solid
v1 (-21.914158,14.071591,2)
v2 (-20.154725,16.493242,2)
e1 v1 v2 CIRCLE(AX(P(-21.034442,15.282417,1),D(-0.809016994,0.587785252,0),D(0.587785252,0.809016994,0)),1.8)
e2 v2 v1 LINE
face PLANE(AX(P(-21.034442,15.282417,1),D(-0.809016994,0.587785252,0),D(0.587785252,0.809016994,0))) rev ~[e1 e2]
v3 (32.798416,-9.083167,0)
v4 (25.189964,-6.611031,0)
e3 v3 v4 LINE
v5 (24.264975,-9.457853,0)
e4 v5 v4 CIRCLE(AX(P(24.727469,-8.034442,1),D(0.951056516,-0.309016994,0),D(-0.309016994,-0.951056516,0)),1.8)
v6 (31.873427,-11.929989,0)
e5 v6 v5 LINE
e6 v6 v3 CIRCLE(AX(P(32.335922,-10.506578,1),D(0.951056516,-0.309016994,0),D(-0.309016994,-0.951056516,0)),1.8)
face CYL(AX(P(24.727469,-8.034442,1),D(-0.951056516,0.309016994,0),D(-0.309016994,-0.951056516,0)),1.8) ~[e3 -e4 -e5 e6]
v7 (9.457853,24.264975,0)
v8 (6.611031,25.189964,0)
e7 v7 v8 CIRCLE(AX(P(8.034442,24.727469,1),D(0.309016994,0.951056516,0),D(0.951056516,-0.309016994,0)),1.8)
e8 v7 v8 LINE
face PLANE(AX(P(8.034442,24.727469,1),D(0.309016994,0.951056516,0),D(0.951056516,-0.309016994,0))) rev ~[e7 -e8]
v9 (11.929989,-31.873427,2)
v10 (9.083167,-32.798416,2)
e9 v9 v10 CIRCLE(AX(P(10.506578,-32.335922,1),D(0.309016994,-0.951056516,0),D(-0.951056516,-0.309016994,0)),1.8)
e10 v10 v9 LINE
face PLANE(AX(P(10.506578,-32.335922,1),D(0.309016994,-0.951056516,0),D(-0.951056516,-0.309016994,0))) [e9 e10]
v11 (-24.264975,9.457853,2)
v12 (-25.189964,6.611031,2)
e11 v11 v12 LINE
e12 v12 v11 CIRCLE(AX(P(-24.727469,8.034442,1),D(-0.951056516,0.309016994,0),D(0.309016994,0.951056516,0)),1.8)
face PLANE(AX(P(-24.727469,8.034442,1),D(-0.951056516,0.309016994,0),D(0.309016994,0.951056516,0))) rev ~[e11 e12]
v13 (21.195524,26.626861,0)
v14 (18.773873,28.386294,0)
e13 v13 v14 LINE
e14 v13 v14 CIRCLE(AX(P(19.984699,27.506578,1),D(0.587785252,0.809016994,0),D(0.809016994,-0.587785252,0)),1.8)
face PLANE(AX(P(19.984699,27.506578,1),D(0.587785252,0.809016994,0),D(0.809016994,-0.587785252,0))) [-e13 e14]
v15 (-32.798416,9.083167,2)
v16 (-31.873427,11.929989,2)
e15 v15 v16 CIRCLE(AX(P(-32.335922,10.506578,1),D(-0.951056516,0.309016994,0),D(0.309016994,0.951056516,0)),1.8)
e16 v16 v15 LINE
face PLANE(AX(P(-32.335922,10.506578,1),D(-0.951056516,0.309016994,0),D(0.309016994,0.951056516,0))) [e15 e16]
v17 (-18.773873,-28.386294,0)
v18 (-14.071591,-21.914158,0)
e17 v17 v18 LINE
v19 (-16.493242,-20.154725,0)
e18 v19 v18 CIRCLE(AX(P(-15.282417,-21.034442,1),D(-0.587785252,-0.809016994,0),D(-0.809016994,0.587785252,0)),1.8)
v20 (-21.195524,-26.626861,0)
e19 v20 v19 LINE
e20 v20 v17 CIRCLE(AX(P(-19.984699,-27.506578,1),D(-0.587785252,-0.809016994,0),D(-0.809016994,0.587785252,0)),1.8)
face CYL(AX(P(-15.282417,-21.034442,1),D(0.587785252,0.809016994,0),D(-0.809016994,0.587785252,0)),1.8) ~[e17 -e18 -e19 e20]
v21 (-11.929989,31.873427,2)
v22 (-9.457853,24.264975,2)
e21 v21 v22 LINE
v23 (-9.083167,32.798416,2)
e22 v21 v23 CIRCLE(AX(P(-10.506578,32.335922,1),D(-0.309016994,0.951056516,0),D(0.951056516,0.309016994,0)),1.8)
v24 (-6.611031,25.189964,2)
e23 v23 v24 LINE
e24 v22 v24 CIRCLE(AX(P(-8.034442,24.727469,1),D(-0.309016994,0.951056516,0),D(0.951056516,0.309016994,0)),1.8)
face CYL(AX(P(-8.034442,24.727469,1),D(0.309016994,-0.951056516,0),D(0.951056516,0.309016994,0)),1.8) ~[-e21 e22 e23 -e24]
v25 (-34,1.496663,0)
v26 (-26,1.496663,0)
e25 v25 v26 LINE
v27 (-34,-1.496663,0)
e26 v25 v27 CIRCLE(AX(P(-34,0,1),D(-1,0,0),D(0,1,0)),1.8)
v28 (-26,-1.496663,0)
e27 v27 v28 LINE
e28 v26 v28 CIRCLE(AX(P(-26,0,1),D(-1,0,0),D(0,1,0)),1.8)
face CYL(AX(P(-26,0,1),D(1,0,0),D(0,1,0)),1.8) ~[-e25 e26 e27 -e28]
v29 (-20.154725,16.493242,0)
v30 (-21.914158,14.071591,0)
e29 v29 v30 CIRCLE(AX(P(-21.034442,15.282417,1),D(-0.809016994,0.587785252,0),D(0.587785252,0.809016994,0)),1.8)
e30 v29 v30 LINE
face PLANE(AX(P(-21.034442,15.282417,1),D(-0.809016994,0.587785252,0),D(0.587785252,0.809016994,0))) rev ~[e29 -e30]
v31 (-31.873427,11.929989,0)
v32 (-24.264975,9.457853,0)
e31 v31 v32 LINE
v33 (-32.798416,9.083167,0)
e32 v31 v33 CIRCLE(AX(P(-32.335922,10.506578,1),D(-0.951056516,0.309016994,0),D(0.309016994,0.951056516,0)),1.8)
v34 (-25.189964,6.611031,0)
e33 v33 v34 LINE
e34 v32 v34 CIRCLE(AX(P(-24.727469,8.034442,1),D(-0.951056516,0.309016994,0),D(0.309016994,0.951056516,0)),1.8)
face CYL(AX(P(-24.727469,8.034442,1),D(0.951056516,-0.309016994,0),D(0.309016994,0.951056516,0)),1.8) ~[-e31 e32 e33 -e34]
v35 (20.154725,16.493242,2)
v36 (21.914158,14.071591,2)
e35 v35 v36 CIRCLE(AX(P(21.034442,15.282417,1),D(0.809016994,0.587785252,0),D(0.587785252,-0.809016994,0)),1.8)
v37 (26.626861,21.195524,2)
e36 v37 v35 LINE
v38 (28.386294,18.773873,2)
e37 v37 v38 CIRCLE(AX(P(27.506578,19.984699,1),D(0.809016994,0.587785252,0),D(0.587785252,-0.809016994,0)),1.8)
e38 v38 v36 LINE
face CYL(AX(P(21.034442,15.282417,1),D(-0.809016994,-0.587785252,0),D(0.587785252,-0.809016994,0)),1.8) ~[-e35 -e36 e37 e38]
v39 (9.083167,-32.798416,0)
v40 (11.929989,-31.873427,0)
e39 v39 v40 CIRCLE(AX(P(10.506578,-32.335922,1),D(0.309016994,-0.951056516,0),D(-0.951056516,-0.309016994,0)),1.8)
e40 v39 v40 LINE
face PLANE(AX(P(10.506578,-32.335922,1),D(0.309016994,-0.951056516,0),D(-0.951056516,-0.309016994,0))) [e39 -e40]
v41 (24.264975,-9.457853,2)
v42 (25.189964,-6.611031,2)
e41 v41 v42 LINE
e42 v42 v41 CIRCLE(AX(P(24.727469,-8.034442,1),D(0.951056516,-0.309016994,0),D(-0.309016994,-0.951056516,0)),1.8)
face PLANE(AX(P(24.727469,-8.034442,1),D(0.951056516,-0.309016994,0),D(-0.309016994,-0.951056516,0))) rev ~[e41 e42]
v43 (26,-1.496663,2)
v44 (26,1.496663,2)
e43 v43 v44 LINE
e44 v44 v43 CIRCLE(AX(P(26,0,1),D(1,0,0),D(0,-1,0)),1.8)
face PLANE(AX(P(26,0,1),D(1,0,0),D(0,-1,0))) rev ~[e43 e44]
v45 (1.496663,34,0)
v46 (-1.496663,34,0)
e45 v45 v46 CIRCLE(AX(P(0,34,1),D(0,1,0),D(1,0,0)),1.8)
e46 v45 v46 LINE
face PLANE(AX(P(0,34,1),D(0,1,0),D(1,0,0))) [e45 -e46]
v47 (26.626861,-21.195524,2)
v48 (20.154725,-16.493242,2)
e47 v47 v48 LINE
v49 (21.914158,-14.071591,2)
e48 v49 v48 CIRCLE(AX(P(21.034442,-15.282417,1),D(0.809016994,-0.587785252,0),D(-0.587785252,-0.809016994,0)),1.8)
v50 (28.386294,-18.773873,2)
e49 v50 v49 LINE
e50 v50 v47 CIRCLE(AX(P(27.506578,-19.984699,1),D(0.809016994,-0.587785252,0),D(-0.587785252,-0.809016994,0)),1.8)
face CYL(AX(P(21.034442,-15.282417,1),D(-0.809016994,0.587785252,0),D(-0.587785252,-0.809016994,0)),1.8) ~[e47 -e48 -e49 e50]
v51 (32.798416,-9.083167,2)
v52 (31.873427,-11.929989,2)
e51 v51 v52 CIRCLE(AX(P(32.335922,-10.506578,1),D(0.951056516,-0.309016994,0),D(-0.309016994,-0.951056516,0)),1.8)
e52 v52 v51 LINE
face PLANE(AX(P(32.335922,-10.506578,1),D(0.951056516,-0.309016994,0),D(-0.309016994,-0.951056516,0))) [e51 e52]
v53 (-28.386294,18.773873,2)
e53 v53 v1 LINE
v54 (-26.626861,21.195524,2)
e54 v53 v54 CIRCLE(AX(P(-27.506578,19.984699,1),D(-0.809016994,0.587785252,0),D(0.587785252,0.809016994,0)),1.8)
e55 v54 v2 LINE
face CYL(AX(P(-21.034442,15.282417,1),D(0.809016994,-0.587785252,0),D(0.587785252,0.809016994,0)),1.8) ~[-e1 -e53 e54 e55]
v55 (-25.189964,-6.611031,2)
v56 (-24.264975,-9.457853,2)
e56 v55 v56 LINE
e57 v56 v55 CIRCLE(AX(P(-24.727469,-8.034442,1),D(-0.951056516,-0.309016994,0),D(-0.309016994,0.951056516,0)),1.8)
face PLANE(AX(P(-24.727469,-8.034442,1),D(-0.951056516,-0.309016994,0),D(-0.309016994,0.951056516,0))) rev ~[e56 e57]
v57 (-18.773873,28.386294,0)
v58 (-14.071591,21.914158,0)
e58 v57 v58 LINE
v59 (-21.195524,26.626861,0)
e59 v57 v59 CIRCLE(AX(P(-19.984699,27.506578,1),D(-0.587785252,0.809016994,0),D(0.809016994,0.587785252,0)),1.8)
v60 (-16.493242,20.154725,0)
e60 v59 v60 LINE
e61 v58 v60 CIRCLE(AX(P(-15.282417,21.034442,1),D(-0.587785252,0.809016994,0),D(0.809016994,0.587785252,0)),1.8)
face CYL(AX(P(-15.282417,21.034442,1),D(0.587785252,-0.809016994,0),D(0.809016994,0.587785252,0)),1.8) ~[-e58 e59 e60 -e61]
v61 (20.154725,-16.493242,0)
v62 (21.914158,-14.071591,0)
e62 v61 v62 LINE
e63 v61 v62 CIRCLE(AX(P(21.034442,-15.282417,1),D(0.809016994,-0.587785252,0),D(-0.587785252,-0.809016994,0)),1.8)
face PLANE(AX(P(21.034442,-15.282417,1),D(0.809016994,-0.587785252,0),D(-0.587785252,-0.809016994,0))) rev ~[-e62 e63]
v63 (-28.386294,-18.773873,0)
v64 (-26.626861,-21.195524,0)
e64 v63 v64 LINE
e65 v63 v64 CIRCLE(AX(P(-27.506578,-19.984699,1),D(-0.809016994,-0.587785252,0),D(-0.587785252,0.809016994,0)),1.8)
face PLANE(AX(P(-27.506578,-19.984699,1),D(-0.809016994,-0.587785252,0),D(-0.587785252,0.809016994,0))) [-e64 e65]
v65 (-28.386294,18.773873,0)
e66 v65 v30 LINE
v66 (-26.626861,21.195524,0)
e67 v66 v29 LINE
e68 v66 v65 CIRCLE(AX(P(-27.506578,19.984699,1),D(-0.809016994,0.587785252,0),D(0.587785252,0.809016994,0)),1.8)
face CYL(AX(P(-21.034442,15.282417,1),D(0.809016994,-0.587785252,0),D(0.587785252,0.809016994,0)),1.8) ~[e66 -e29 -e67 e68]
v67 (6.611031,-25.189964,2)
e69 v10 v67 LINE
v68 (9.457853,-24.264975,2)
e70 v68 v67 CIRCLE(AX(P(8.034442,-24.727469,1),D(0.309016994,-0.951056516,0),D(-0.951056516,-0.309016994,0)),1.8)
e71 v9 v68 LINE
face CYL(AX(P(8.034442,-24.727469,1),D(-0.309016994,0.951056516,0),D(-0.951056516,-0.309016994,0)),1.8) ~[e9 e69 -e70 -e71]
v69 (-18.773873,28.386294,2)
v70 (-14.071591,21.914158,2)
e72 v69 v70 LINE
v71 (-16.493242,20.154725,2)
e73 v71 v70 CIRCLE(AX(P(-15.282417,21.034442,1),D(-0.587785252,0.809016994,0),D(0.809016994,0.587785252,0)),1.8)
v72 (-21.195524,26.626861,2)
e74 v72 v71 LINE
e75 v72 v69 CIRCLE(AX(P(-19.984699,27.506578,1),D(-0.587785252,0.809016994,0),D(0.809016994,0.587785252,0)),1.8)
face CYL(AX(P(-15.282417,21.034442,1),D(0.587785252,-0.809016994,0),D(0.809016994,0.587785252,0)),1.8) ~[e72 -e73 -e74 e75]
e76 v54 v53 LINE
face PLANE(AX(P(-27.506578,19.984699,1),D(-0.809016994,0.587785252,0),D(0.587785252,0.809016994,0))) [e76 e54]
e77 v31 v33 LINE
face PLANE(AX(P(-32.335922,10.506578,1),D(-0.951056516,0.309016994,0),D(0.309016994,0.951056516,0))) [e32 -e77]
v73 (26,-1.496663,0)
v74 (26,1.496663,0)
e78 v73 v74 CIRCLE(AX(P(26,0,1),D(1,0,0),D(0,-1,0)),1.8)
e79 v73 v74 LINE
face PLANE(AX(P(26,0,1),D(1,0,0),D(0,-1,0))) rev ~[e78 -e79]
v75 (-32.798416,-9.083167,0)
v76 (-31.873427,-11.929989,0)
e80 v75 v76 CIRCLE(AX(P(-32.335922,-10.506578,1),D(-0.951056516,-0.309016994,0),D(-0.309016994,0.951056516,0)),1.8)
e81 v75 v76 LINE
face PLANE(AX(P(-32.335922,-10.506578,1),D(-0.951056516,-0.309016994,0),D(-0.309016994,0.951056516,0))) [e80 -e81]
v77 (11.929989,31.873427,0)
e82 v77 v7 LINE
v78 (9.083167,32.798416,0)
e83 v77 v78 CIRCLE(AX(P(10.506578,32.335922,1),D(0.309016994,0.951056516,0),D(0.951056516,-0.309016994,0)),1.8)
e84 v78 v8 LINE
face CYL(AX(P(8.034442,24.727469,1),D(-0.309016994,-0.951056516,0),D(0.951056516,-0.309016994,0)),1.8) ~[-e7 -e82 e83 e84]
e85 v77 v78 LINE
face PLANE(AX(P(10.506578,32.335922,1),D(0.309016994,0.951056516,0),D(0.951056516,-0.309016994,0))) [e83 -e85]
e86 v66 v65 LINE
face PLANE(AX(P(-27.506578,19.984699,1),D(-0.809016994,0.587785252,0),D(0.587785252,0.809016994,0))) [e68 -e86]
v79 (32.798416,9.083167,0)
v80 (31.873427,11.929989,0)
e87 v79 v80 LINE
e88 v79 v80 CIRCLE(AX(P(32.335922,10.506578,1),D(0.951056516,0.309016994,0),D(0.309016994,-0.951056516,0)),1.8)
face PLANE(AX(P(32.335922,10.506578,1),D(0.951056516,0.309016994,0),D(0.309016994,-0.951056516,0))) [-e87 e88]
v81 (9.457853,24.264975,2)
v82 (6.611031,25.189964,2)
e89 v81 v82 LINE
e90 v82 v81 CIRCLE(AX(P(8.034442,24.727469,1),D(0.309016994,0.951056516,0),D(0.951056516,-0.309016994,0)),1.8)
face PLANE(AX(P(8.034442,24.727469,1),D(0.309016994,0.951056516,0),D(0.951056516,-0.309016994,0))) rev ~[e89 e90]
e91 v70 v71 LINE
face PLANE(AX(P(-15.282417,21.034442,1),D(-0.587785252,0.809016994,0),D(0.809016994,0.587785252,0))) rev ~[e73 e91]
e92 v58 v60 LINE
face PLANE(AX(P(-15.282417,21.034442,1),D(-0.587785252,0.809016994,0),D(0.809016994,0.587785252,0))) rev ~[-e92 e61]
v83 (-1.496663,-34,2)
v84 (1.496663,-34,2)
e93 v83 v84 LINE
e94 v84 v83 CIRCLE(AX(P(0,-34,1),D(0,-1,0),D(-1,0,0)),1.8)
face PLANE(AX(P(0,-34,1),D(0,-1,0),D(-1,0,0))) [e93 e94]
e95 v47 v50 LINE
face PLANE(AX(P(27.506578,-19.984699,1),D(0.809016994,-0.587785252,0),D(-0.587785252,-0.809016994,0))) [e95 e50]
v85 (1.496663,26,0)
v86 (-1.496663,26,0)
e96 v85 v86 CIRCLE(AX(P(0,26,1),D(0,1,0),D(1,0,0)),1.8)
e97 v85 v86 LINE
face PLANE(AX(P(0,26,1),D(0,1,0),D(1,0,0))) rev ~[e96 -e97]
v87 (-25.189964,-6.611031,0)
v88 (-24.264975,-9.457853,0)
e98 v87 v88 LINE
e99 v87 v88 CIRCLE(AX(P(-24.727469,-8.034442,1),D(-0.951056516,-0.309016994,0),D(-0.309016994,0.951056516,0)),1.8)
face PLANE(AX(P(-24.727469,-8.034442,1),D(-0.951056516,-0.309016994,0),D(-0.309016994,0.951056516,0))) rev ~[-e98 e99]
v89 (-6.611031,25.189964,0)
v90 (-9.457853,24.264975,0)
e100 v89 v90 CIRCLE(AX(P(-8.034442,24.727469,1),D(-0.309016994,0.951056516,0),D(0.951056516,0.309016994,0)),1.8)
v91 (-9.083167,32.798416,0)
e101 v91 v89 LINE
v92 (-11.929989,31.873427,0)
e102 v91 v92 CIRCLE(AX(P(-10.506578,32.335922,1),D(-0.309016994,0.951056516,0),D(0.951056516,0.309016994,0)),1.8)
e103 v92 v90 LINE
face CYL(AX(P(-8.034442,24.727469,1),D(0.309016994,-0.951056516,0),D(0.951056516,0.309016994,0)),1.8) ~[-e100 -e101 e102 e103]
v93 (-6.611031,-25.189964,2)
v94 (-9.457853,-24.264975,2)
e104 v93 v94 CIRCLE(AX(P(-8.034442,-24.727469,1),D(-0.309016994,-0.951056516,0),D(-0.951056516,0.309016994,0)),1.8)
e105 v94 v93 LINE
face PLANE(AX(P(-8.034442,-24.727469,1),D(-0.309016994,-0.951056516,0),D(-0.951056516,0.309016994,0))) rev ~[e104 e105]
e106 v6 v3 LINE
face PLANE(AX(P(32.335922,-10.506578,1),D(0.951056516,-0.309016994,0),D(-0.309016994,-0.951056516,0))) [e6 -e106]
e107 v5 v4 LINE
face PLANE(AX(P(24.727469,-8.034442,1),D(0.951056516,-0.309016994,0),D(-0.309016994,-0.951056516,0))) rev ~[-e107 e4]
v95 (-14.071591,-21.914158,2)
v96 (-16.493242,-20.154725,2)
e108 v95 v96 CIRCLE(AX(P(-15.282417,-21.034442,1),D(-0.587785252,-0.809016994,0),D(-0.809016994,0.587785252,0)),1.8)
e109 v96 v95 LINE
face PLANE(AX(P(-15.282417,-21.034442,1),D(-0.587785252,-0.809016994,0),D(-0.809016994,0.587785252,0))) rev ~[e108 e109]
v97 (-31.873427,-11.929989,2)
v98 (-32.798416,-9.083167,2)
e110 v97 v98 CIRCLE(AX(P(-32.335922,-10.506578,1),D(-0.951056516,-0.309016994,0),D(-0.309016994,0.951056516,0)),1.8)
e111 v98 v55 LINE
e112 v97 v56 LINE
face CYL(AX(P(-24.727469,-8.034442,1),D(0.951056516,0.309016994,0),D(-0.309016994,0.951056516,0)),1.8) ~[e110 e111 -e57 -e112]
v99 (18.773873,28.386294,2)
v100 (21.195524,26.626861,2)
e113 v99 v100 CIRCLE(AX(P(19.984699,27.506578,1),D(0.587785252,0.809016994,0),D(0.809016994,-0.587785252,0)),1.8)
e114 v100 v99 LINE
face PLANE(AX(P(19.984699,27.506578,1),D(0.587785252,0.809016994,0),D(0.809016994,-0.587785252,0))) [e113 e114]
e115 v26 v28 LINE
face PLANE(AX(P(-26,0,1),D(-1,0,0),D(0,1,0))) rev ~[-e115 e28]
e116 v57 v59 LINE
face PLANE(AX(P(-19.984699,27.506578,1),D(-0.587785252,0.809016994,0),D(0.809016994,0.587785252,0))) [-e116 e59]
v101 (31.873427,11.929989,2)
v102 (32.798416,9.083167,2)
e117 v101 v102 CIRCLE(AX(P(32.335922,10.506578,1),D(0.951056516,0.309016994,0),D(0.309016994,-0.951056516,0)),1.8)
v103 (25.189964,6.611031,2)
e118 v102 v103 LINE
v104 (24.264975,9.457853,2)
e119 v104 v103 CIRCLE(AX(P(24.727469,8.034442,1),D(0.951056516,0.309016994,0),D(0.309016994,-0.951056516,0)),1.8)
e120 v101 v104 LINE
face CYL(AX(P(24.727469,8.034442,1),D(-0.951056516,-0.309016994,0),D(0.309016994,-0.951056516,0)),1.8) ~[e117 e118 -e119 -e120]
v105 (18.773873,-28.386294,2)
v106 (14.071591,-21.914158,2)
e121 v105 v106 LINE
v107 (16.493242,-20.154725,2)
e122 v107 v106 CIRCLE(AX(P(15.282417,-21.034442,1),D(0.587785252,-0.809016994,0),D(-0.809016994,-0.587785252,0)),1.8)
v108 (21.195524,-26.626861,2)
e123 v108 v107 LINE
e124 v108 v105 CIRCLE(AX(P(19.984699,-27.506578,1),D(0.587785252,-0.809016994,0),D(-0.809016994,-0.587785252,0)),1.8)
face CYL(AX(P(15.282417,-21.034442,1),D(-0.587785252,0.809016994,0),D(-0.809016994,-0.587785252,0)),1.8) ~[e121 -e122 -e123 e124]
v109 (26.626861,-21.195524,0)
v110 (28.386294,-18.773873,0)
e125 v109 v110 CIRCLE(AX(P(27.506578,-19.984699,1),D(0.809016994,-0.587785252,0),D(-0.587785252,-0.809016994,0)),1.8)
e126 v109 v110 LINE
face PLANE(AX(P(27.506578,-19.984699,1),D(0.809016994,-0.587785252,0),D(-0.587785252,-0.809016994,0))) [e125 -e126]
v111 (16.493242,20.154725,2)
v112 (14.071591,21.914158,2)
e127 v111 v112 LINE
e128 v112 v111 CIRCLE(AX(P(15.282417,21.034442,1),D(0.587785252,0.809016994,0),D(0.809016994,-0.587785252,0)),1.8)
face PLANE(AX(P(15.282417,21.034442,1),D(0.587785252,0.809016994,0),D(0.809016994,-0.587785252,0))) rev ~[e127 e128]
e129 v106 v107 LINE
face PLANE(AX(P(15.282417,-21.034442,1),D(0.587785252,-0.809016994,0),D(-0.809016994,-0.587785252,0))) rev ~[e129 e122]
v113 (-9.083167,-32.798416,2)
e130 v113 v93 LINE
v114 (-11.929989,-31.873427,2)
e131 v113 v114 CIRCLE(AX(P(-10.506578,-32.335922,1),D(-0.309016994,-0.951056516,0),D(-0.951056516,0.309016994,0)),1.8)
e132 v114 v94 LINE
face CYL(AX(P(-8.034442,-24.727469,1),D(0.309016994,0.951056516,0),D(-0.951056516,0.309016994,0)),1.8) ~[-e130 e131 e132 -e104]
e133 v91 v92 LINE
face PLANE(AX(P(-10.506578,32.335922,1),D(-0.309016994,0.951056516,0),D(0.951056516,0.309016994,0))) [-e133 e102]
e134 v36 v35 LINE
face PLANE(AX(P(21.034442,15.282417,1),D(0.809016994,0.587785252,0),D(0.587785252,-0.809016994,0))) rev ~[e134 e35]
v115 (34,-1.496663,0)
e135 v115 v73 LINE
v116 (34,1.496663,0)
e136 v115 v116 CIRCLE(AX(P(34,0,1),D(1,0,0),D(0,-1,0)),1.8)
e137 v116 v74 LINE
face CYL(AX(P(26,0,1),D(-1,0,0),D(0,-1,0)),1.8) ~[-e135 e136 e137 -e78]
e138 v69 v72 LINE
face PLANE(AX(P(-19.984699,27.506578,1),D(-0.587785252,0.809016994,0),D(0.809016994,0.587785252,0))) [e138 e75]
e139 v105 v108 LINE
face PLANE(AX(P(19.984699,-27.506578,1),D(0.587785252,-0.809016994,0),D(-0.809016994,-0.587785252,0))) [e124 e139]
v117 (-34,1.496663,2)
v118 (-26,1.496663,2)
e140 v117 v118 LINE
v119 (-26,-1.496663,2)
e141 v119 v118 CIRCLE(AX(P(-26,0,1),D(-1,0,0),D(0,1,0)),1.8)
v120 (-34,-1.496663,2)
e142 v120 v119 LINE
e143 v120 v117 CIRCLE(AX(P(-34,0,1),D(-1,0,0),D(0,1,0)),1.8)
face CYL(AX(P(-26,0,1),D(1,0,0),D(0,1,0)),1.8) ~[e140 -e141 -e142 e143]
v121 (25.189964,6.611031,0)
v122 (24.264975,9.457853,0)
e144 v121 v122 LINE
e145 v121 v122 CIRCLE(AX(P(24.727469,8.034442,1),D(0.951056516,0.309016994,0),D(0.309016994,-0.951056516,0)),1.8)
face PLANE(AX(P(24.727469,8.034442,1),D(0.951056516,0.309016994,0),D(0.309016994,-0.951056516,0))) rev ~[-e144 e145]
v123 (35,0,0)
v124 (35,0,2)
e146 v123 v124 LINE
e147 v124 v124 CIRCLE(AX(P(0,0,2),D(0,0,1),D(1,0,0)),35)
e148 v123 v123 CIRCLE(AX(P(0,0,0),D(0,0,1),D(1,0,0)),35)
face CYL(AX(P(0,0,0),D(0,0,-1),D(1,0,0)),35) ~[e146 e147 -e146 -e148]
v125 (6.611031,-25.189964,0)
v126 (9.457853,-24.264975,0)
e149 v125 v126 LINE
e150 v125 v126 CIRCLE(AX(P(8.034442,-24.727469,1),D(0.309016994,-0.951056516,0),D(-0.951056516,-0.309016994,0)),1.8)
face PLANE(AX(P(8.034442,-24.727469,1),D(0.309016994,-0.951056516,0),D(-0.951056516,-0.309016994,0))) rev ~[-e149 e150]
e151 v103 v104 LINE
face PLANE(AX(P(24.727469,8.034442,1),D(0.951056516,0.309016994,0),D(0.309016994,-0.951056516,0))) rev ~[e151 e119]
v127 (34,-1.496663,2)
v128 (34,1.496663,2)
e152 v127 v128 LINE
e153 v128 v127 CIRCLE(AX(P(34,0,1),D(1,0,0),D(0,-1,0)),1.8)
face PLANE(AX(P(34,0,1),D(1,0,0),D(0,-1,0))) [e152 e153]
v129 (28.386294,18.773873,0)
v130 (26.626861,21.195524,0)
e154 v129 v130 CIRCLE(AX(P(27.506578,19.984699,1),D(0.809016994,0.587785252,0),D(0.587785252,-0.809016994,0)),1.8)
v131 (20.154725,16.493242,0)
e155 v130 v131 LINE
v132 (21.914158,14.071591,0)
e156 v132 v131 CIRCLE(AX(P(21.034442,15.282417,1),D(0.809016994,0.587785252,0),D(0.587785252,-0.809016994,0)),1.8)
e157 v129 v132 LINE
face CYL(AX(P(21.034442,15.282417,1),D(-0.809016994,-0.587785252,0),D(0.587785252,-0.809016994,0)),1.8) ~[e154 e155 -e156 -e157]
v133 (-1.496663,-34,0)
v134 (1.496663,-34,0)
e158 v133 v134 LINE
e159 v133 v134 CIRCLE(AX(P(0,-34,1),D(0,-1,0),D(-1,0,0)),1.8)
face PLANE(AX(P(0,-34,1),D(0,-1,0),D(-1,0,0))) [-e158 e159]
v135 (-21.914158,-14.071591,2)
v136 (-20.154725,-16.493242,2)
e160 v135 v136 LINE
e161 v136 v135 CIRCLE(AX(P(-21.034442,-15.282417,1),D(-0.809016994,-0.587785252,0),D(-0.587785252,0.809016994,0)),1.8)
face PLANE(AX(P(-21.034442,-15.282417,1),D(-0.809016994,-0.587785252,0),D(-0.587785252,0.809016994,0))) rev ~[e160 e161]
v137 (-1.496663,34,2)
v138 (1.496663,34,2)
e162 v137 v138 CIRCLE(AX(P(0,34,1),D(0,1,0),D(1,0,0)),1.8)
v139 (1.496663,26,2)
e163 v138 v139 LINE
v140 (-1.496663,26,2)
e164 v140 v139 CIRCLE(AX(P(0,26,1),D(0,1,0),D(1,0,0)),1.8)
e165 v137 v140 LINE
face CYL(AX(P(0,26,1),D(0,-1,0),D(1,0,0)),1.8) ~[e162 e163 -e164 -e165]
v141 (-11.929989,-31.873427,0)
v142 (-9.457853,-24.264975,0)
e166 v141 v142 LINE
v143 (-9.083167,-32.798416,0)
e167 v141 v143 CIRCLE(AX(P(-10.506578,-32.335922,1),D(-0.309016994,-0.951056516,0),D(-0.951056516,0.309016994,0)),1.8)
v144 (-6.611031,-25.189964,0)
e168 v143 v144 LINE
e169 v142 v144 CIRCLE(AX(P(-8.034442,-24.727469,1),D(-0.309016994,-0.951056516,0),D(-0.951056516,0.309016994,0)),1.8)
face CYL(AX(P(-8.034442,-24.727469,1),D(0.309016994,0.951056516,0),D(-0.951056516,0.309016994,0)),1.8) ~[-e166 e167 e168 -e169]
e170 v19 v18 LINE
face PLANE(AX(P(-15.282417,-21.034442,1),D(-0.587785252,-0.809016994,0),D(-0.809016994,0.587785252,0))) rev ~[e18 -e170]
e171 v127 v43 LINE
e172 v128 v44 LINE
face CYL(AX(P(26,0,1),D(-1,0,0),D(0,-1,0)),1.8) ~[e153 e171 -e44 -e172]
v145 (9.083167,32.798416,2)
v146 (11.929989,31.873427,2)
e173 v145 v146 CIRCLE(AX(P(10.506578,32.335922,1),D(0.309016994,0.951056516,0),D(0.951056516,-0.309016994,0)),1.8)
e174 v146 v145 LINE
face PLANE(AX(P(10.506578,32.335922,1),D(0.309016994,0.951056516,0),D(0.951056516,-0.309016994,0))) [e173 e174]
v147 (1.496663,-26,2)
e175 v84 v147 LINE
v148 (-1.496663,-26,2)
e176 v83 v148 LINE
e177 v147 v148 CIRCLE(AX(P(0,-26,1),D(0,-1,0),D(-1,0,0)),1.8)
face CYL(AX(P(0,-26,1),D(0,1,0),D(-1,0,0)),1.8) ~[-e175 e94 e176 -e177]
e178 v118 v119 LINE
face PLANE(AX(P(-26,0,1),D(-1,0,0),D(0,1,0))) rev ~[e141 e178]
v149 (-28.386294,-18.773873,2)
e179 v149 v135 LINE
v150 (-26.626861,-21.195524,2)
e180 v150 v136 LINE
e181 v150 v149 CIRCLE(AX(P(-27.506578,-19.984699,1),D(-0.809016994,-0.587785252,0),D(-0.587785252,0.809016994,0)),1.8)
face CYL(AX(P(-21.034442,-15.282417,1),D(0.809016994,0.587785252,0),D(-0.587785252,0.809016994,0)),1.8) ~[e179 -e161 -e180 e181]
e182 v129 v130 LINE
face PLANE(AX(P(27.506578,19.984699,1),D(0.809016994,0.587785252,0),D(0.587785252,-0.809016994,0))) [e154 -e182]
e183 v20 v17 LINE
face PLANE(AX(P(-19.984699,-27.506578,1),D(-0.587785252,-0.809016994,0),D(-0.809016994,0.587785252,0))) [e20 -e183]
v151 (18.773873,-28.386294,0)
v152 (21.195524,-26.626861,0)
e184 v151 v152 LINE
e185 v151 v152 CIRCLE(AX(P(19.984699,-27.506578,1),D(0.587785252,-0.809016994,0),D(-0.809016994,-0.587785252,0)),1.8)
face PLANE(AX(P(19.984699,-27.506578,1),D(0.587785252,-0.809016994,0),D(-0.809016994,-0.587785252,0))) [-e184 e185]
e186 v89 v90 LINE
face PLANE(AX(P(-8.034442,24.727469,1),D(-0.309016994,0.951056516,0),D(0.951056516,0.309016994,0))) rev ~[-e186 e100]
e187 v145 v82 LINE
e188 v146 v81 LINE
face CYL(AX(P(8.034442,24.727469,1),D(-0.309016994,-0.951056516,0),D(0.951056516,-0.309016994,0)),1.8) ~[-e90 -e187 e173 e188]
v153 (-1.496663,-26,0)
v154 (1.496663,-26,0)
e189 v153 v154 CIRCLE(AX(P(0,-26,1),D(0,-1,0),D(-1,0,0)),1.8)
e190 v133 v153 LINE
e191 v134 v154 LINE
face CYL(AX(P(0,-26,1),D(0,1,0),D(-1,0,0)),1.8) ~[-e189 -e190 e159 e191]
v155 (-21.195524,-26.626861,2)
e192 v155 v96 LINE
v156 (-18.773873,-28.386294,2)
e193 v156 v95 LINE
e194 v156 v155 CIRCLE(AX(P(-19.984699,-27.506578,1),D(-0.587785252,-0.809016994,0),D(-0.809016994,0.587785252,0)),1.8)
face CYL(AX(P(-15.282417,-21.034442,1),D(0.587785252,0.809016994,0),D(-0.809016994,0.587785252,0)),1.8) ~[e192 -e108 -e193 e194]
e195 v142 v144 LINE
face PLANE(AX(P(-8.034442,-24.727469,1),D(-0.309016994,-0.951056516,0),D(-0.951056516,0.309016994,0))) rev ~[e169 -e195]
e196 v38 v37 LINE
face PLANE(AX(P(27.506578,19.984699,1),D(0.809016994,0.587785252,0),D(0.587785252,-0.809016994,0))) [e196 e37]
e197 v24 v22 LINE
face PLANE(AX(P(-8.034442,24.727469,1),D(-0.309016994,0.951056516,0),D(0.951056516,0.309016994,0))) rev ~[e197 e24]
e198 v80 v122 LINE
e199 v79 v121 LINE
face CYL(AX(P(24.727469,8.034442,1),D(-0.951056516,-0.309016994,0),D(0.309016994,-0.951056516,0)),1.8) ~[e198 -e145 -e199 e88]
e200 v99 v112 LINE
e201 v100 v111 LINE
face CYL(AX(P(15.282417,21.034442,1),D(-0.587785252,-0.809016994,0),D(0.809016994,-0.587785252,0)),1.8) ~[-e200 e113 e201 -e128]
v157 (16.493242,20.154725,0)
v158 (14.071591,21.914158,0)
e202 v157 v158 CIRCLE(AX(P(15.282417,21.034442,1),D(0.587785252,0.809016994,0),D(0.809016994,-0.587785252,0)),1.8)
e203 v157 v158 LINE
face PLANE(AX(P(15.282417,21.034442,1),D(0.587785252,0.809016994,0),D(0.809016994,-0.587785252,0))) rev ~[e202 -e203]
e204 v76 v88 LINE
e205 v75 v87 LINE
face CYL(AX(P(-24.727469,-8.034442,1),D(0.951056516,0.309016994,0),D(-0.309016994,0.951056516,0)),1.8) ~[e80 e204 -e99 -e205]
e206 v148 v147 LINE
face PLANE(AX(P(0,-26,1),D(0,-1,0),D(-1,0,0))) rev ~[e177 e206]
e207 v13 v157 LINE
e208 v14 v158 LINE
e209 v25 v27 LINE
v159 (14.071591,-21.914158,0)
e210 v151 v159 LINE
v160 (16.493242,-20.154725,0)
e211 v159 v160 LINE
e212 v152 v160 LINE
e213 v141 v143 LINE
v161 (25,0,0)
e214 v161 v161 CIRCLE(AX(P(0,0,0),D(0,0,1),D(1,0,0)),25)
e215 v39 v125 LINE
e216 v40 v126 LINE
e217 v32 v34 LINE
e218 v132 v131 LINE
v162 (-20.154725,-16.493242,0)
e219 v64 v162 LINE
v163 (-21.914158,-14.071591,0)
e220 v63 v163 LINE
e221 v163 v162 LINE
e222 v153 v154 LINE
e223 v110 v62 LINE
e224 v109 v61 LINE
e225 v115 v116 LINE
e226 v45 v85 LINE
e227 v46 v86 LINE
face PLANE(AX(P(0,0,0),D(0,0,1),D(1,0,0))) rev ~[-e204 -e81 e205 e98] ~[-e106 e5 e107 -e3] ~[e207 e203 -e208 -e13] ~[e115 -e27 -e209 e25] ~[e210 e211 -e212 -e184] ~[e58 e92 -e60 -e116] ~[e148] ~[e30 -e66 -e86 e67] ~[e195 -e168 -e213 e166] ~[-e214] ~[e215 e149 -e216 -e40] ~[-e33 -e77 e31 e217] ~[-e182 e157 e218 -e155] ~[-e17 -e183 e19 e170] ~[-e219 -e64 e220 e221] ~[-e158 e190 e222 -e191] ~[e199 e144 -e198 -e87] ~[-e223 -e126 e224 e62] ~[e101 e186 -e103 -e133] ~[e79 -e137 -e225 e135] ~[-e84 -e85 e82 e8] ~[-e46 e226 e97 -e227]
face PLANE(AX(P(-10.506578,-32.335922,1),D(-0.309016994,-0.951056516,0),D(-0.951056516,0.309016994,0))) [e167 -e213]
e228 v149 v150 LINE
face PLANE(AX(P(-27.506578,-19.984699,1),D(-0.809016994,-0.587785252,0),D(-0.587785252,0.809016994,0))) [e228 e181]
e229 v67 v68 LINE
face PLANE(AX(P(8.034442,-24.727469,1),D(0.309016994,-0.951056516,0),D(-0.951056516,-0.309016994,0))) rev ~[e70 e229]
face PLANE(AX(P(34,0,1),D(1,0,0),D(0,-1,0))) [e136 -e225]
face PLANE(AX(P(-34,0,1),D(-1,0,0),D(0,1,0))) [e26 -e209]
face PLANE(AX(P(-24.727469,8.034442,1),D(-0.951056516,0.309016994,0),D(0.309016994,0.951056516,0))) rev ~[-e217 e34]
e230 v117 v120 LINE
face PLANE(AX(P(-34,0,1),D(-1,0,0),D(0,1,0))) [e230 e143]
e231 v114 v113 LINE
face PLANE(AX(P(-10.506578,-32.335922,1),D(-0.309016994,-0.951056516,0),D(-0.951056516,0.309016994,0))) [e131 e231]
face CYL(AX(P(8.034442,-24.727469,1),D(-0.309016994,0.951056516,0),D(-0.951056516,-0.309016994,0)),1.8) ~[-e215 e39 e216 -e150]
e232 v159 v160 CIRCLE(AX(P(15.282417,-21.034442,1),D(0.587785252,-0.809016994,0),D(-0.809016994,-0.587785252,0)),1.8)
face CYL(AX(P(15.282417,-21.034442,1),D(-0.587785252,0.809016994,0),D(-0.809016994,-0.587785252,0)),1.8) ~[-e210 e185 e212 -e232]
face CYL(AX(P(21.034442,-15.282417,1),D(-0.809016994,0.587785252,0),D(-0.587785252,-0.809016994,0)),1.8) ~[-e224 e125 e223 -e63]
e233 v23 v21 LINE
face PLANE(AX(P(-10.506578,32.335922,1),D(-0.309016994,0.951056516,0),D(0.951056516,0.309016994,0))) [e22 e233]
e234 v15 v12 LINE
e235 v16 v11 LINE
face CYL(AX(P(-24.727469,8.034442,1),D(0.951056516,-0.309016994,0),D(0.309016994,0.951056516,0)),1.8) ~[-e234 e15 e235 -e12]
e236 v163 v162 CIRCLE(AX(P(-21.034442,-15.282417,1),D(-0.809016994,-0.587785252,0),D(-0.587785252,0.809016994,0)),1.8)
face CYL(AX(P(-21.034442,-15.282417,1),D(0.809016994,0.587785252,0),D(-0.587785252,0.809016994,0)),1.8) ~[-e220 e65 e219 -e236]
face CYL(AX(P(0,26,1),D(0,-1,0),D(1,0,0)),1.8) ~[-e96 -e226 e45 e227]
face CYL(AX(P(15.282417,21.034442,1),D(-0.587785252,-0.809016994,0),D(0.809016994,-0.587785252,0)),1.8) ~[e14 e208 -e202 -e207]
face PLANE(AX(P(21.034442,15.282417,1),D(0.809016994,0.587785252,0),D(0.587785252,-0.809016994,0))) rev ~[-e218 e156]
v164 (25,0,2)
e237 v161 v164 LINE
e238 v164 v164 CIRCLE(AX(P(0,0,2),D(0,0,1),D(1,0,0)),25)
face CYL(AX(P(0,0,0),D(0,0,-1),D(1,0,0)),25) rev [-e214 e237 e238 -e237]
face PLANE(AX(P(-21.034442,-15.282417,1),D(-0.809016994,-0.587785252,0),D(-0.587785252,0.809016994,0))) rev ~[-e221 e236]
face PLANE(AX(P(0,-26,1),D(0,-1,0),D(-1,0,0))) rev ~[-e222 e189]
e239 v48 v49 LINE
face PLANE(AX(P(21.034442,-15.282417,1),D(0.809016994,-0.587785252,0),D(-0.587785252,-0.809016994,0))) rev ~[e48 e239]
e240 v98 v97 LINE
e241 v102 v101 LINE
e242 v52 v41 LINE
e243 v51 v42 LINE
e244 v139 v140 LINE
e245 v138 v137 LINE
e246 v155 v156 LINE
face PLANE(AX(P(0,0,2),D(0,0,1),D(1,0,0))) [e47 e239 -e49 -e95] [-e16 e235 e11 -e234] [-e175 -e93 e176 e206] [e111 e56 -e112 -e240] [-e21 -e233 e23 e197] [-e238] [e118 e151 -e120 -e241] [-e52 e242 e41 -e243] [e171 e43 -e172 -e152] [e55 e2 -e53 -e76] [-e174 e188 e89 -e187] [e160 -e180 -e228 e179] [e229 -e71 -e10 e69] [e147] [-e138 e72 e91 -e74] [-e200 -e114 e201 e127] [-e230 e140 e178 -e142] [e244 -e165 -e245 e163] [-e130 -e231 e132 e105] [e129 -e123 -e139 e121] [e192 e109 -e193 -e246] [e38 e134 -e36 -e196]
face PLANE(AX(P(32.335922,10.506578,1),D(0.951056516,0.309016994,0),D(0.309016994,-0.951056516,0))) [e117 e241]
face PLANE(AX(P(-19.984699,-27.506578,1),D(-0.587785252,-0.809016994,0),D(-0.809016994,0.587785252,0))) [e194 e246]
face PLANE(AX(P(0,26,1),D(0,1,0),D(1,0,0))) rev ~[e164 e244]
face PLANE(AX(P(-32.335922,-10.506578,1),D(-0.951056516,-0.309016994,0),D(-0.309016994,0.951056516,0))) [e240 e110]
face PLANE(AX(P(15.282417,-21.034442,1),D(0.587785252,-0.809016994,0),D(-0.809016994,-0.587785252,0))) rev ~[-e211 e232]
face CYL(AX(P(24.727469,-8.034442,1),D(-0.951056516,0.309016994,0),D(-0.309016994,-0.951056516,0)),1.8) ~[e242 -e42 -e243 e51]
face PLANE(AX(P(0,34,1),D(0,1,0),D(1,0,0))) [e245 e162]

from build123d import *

# Parameters (mm, degrees)
ESQUISSE1_R                  = 35
ESQUISSE1_R_2                = 25
BOSS_EXTRU_1_DEPTH           = 2
BOSS_EXTRU_2_START           = 26
ESQUISSE2_R                  = 1.8
BOSS_EXTRU_2_DEPTH           = 8
R_P_TITION_CIRCULAIRE1_COUNT = 20


with BuildPart() as part:
    # Esquisse1 → Boss.-Extru.1 (new body)
    with BuildSketch(Plane.XY):
        Circle(ESQUISSE1_R)
        Circle(ESQUISSE1_R_2, mode=Mode.SUBTRACT)
    extrude(amount=BOSS_EXTRU_1_DEPTH)

    # Esquisse2 → Boss.-Extru.2 (add)
    with BuildSketch(Plane(origin=(0, 0, 0), x_dir=(1, 0, 0), z_dir=(0, 1, 0)).offset(BOSS_EXTRU_2_START)):
        with Locations((0, -1)):
            Circle(ESQUISSE2_R)
    boss_extru_2 = extrude(amount=BOSS_EXTRU_2_DEPTH)

    # Répétition circulaire1: Boss.-Extru.2 ×20 about axis
    r_p_tition_circulaire1_axis = Axis((0, 0, 0), (0, 0, 1))
    for i in range(1, R_P_TITION_CIRCULAIRE1_COUNT):
        add(boss_extru_2.rotate(r_p_tition_circulaire1_axis, i * 360 / R_P_TITION_CIRCULAIRE1_COUNT))


solid = part.part
